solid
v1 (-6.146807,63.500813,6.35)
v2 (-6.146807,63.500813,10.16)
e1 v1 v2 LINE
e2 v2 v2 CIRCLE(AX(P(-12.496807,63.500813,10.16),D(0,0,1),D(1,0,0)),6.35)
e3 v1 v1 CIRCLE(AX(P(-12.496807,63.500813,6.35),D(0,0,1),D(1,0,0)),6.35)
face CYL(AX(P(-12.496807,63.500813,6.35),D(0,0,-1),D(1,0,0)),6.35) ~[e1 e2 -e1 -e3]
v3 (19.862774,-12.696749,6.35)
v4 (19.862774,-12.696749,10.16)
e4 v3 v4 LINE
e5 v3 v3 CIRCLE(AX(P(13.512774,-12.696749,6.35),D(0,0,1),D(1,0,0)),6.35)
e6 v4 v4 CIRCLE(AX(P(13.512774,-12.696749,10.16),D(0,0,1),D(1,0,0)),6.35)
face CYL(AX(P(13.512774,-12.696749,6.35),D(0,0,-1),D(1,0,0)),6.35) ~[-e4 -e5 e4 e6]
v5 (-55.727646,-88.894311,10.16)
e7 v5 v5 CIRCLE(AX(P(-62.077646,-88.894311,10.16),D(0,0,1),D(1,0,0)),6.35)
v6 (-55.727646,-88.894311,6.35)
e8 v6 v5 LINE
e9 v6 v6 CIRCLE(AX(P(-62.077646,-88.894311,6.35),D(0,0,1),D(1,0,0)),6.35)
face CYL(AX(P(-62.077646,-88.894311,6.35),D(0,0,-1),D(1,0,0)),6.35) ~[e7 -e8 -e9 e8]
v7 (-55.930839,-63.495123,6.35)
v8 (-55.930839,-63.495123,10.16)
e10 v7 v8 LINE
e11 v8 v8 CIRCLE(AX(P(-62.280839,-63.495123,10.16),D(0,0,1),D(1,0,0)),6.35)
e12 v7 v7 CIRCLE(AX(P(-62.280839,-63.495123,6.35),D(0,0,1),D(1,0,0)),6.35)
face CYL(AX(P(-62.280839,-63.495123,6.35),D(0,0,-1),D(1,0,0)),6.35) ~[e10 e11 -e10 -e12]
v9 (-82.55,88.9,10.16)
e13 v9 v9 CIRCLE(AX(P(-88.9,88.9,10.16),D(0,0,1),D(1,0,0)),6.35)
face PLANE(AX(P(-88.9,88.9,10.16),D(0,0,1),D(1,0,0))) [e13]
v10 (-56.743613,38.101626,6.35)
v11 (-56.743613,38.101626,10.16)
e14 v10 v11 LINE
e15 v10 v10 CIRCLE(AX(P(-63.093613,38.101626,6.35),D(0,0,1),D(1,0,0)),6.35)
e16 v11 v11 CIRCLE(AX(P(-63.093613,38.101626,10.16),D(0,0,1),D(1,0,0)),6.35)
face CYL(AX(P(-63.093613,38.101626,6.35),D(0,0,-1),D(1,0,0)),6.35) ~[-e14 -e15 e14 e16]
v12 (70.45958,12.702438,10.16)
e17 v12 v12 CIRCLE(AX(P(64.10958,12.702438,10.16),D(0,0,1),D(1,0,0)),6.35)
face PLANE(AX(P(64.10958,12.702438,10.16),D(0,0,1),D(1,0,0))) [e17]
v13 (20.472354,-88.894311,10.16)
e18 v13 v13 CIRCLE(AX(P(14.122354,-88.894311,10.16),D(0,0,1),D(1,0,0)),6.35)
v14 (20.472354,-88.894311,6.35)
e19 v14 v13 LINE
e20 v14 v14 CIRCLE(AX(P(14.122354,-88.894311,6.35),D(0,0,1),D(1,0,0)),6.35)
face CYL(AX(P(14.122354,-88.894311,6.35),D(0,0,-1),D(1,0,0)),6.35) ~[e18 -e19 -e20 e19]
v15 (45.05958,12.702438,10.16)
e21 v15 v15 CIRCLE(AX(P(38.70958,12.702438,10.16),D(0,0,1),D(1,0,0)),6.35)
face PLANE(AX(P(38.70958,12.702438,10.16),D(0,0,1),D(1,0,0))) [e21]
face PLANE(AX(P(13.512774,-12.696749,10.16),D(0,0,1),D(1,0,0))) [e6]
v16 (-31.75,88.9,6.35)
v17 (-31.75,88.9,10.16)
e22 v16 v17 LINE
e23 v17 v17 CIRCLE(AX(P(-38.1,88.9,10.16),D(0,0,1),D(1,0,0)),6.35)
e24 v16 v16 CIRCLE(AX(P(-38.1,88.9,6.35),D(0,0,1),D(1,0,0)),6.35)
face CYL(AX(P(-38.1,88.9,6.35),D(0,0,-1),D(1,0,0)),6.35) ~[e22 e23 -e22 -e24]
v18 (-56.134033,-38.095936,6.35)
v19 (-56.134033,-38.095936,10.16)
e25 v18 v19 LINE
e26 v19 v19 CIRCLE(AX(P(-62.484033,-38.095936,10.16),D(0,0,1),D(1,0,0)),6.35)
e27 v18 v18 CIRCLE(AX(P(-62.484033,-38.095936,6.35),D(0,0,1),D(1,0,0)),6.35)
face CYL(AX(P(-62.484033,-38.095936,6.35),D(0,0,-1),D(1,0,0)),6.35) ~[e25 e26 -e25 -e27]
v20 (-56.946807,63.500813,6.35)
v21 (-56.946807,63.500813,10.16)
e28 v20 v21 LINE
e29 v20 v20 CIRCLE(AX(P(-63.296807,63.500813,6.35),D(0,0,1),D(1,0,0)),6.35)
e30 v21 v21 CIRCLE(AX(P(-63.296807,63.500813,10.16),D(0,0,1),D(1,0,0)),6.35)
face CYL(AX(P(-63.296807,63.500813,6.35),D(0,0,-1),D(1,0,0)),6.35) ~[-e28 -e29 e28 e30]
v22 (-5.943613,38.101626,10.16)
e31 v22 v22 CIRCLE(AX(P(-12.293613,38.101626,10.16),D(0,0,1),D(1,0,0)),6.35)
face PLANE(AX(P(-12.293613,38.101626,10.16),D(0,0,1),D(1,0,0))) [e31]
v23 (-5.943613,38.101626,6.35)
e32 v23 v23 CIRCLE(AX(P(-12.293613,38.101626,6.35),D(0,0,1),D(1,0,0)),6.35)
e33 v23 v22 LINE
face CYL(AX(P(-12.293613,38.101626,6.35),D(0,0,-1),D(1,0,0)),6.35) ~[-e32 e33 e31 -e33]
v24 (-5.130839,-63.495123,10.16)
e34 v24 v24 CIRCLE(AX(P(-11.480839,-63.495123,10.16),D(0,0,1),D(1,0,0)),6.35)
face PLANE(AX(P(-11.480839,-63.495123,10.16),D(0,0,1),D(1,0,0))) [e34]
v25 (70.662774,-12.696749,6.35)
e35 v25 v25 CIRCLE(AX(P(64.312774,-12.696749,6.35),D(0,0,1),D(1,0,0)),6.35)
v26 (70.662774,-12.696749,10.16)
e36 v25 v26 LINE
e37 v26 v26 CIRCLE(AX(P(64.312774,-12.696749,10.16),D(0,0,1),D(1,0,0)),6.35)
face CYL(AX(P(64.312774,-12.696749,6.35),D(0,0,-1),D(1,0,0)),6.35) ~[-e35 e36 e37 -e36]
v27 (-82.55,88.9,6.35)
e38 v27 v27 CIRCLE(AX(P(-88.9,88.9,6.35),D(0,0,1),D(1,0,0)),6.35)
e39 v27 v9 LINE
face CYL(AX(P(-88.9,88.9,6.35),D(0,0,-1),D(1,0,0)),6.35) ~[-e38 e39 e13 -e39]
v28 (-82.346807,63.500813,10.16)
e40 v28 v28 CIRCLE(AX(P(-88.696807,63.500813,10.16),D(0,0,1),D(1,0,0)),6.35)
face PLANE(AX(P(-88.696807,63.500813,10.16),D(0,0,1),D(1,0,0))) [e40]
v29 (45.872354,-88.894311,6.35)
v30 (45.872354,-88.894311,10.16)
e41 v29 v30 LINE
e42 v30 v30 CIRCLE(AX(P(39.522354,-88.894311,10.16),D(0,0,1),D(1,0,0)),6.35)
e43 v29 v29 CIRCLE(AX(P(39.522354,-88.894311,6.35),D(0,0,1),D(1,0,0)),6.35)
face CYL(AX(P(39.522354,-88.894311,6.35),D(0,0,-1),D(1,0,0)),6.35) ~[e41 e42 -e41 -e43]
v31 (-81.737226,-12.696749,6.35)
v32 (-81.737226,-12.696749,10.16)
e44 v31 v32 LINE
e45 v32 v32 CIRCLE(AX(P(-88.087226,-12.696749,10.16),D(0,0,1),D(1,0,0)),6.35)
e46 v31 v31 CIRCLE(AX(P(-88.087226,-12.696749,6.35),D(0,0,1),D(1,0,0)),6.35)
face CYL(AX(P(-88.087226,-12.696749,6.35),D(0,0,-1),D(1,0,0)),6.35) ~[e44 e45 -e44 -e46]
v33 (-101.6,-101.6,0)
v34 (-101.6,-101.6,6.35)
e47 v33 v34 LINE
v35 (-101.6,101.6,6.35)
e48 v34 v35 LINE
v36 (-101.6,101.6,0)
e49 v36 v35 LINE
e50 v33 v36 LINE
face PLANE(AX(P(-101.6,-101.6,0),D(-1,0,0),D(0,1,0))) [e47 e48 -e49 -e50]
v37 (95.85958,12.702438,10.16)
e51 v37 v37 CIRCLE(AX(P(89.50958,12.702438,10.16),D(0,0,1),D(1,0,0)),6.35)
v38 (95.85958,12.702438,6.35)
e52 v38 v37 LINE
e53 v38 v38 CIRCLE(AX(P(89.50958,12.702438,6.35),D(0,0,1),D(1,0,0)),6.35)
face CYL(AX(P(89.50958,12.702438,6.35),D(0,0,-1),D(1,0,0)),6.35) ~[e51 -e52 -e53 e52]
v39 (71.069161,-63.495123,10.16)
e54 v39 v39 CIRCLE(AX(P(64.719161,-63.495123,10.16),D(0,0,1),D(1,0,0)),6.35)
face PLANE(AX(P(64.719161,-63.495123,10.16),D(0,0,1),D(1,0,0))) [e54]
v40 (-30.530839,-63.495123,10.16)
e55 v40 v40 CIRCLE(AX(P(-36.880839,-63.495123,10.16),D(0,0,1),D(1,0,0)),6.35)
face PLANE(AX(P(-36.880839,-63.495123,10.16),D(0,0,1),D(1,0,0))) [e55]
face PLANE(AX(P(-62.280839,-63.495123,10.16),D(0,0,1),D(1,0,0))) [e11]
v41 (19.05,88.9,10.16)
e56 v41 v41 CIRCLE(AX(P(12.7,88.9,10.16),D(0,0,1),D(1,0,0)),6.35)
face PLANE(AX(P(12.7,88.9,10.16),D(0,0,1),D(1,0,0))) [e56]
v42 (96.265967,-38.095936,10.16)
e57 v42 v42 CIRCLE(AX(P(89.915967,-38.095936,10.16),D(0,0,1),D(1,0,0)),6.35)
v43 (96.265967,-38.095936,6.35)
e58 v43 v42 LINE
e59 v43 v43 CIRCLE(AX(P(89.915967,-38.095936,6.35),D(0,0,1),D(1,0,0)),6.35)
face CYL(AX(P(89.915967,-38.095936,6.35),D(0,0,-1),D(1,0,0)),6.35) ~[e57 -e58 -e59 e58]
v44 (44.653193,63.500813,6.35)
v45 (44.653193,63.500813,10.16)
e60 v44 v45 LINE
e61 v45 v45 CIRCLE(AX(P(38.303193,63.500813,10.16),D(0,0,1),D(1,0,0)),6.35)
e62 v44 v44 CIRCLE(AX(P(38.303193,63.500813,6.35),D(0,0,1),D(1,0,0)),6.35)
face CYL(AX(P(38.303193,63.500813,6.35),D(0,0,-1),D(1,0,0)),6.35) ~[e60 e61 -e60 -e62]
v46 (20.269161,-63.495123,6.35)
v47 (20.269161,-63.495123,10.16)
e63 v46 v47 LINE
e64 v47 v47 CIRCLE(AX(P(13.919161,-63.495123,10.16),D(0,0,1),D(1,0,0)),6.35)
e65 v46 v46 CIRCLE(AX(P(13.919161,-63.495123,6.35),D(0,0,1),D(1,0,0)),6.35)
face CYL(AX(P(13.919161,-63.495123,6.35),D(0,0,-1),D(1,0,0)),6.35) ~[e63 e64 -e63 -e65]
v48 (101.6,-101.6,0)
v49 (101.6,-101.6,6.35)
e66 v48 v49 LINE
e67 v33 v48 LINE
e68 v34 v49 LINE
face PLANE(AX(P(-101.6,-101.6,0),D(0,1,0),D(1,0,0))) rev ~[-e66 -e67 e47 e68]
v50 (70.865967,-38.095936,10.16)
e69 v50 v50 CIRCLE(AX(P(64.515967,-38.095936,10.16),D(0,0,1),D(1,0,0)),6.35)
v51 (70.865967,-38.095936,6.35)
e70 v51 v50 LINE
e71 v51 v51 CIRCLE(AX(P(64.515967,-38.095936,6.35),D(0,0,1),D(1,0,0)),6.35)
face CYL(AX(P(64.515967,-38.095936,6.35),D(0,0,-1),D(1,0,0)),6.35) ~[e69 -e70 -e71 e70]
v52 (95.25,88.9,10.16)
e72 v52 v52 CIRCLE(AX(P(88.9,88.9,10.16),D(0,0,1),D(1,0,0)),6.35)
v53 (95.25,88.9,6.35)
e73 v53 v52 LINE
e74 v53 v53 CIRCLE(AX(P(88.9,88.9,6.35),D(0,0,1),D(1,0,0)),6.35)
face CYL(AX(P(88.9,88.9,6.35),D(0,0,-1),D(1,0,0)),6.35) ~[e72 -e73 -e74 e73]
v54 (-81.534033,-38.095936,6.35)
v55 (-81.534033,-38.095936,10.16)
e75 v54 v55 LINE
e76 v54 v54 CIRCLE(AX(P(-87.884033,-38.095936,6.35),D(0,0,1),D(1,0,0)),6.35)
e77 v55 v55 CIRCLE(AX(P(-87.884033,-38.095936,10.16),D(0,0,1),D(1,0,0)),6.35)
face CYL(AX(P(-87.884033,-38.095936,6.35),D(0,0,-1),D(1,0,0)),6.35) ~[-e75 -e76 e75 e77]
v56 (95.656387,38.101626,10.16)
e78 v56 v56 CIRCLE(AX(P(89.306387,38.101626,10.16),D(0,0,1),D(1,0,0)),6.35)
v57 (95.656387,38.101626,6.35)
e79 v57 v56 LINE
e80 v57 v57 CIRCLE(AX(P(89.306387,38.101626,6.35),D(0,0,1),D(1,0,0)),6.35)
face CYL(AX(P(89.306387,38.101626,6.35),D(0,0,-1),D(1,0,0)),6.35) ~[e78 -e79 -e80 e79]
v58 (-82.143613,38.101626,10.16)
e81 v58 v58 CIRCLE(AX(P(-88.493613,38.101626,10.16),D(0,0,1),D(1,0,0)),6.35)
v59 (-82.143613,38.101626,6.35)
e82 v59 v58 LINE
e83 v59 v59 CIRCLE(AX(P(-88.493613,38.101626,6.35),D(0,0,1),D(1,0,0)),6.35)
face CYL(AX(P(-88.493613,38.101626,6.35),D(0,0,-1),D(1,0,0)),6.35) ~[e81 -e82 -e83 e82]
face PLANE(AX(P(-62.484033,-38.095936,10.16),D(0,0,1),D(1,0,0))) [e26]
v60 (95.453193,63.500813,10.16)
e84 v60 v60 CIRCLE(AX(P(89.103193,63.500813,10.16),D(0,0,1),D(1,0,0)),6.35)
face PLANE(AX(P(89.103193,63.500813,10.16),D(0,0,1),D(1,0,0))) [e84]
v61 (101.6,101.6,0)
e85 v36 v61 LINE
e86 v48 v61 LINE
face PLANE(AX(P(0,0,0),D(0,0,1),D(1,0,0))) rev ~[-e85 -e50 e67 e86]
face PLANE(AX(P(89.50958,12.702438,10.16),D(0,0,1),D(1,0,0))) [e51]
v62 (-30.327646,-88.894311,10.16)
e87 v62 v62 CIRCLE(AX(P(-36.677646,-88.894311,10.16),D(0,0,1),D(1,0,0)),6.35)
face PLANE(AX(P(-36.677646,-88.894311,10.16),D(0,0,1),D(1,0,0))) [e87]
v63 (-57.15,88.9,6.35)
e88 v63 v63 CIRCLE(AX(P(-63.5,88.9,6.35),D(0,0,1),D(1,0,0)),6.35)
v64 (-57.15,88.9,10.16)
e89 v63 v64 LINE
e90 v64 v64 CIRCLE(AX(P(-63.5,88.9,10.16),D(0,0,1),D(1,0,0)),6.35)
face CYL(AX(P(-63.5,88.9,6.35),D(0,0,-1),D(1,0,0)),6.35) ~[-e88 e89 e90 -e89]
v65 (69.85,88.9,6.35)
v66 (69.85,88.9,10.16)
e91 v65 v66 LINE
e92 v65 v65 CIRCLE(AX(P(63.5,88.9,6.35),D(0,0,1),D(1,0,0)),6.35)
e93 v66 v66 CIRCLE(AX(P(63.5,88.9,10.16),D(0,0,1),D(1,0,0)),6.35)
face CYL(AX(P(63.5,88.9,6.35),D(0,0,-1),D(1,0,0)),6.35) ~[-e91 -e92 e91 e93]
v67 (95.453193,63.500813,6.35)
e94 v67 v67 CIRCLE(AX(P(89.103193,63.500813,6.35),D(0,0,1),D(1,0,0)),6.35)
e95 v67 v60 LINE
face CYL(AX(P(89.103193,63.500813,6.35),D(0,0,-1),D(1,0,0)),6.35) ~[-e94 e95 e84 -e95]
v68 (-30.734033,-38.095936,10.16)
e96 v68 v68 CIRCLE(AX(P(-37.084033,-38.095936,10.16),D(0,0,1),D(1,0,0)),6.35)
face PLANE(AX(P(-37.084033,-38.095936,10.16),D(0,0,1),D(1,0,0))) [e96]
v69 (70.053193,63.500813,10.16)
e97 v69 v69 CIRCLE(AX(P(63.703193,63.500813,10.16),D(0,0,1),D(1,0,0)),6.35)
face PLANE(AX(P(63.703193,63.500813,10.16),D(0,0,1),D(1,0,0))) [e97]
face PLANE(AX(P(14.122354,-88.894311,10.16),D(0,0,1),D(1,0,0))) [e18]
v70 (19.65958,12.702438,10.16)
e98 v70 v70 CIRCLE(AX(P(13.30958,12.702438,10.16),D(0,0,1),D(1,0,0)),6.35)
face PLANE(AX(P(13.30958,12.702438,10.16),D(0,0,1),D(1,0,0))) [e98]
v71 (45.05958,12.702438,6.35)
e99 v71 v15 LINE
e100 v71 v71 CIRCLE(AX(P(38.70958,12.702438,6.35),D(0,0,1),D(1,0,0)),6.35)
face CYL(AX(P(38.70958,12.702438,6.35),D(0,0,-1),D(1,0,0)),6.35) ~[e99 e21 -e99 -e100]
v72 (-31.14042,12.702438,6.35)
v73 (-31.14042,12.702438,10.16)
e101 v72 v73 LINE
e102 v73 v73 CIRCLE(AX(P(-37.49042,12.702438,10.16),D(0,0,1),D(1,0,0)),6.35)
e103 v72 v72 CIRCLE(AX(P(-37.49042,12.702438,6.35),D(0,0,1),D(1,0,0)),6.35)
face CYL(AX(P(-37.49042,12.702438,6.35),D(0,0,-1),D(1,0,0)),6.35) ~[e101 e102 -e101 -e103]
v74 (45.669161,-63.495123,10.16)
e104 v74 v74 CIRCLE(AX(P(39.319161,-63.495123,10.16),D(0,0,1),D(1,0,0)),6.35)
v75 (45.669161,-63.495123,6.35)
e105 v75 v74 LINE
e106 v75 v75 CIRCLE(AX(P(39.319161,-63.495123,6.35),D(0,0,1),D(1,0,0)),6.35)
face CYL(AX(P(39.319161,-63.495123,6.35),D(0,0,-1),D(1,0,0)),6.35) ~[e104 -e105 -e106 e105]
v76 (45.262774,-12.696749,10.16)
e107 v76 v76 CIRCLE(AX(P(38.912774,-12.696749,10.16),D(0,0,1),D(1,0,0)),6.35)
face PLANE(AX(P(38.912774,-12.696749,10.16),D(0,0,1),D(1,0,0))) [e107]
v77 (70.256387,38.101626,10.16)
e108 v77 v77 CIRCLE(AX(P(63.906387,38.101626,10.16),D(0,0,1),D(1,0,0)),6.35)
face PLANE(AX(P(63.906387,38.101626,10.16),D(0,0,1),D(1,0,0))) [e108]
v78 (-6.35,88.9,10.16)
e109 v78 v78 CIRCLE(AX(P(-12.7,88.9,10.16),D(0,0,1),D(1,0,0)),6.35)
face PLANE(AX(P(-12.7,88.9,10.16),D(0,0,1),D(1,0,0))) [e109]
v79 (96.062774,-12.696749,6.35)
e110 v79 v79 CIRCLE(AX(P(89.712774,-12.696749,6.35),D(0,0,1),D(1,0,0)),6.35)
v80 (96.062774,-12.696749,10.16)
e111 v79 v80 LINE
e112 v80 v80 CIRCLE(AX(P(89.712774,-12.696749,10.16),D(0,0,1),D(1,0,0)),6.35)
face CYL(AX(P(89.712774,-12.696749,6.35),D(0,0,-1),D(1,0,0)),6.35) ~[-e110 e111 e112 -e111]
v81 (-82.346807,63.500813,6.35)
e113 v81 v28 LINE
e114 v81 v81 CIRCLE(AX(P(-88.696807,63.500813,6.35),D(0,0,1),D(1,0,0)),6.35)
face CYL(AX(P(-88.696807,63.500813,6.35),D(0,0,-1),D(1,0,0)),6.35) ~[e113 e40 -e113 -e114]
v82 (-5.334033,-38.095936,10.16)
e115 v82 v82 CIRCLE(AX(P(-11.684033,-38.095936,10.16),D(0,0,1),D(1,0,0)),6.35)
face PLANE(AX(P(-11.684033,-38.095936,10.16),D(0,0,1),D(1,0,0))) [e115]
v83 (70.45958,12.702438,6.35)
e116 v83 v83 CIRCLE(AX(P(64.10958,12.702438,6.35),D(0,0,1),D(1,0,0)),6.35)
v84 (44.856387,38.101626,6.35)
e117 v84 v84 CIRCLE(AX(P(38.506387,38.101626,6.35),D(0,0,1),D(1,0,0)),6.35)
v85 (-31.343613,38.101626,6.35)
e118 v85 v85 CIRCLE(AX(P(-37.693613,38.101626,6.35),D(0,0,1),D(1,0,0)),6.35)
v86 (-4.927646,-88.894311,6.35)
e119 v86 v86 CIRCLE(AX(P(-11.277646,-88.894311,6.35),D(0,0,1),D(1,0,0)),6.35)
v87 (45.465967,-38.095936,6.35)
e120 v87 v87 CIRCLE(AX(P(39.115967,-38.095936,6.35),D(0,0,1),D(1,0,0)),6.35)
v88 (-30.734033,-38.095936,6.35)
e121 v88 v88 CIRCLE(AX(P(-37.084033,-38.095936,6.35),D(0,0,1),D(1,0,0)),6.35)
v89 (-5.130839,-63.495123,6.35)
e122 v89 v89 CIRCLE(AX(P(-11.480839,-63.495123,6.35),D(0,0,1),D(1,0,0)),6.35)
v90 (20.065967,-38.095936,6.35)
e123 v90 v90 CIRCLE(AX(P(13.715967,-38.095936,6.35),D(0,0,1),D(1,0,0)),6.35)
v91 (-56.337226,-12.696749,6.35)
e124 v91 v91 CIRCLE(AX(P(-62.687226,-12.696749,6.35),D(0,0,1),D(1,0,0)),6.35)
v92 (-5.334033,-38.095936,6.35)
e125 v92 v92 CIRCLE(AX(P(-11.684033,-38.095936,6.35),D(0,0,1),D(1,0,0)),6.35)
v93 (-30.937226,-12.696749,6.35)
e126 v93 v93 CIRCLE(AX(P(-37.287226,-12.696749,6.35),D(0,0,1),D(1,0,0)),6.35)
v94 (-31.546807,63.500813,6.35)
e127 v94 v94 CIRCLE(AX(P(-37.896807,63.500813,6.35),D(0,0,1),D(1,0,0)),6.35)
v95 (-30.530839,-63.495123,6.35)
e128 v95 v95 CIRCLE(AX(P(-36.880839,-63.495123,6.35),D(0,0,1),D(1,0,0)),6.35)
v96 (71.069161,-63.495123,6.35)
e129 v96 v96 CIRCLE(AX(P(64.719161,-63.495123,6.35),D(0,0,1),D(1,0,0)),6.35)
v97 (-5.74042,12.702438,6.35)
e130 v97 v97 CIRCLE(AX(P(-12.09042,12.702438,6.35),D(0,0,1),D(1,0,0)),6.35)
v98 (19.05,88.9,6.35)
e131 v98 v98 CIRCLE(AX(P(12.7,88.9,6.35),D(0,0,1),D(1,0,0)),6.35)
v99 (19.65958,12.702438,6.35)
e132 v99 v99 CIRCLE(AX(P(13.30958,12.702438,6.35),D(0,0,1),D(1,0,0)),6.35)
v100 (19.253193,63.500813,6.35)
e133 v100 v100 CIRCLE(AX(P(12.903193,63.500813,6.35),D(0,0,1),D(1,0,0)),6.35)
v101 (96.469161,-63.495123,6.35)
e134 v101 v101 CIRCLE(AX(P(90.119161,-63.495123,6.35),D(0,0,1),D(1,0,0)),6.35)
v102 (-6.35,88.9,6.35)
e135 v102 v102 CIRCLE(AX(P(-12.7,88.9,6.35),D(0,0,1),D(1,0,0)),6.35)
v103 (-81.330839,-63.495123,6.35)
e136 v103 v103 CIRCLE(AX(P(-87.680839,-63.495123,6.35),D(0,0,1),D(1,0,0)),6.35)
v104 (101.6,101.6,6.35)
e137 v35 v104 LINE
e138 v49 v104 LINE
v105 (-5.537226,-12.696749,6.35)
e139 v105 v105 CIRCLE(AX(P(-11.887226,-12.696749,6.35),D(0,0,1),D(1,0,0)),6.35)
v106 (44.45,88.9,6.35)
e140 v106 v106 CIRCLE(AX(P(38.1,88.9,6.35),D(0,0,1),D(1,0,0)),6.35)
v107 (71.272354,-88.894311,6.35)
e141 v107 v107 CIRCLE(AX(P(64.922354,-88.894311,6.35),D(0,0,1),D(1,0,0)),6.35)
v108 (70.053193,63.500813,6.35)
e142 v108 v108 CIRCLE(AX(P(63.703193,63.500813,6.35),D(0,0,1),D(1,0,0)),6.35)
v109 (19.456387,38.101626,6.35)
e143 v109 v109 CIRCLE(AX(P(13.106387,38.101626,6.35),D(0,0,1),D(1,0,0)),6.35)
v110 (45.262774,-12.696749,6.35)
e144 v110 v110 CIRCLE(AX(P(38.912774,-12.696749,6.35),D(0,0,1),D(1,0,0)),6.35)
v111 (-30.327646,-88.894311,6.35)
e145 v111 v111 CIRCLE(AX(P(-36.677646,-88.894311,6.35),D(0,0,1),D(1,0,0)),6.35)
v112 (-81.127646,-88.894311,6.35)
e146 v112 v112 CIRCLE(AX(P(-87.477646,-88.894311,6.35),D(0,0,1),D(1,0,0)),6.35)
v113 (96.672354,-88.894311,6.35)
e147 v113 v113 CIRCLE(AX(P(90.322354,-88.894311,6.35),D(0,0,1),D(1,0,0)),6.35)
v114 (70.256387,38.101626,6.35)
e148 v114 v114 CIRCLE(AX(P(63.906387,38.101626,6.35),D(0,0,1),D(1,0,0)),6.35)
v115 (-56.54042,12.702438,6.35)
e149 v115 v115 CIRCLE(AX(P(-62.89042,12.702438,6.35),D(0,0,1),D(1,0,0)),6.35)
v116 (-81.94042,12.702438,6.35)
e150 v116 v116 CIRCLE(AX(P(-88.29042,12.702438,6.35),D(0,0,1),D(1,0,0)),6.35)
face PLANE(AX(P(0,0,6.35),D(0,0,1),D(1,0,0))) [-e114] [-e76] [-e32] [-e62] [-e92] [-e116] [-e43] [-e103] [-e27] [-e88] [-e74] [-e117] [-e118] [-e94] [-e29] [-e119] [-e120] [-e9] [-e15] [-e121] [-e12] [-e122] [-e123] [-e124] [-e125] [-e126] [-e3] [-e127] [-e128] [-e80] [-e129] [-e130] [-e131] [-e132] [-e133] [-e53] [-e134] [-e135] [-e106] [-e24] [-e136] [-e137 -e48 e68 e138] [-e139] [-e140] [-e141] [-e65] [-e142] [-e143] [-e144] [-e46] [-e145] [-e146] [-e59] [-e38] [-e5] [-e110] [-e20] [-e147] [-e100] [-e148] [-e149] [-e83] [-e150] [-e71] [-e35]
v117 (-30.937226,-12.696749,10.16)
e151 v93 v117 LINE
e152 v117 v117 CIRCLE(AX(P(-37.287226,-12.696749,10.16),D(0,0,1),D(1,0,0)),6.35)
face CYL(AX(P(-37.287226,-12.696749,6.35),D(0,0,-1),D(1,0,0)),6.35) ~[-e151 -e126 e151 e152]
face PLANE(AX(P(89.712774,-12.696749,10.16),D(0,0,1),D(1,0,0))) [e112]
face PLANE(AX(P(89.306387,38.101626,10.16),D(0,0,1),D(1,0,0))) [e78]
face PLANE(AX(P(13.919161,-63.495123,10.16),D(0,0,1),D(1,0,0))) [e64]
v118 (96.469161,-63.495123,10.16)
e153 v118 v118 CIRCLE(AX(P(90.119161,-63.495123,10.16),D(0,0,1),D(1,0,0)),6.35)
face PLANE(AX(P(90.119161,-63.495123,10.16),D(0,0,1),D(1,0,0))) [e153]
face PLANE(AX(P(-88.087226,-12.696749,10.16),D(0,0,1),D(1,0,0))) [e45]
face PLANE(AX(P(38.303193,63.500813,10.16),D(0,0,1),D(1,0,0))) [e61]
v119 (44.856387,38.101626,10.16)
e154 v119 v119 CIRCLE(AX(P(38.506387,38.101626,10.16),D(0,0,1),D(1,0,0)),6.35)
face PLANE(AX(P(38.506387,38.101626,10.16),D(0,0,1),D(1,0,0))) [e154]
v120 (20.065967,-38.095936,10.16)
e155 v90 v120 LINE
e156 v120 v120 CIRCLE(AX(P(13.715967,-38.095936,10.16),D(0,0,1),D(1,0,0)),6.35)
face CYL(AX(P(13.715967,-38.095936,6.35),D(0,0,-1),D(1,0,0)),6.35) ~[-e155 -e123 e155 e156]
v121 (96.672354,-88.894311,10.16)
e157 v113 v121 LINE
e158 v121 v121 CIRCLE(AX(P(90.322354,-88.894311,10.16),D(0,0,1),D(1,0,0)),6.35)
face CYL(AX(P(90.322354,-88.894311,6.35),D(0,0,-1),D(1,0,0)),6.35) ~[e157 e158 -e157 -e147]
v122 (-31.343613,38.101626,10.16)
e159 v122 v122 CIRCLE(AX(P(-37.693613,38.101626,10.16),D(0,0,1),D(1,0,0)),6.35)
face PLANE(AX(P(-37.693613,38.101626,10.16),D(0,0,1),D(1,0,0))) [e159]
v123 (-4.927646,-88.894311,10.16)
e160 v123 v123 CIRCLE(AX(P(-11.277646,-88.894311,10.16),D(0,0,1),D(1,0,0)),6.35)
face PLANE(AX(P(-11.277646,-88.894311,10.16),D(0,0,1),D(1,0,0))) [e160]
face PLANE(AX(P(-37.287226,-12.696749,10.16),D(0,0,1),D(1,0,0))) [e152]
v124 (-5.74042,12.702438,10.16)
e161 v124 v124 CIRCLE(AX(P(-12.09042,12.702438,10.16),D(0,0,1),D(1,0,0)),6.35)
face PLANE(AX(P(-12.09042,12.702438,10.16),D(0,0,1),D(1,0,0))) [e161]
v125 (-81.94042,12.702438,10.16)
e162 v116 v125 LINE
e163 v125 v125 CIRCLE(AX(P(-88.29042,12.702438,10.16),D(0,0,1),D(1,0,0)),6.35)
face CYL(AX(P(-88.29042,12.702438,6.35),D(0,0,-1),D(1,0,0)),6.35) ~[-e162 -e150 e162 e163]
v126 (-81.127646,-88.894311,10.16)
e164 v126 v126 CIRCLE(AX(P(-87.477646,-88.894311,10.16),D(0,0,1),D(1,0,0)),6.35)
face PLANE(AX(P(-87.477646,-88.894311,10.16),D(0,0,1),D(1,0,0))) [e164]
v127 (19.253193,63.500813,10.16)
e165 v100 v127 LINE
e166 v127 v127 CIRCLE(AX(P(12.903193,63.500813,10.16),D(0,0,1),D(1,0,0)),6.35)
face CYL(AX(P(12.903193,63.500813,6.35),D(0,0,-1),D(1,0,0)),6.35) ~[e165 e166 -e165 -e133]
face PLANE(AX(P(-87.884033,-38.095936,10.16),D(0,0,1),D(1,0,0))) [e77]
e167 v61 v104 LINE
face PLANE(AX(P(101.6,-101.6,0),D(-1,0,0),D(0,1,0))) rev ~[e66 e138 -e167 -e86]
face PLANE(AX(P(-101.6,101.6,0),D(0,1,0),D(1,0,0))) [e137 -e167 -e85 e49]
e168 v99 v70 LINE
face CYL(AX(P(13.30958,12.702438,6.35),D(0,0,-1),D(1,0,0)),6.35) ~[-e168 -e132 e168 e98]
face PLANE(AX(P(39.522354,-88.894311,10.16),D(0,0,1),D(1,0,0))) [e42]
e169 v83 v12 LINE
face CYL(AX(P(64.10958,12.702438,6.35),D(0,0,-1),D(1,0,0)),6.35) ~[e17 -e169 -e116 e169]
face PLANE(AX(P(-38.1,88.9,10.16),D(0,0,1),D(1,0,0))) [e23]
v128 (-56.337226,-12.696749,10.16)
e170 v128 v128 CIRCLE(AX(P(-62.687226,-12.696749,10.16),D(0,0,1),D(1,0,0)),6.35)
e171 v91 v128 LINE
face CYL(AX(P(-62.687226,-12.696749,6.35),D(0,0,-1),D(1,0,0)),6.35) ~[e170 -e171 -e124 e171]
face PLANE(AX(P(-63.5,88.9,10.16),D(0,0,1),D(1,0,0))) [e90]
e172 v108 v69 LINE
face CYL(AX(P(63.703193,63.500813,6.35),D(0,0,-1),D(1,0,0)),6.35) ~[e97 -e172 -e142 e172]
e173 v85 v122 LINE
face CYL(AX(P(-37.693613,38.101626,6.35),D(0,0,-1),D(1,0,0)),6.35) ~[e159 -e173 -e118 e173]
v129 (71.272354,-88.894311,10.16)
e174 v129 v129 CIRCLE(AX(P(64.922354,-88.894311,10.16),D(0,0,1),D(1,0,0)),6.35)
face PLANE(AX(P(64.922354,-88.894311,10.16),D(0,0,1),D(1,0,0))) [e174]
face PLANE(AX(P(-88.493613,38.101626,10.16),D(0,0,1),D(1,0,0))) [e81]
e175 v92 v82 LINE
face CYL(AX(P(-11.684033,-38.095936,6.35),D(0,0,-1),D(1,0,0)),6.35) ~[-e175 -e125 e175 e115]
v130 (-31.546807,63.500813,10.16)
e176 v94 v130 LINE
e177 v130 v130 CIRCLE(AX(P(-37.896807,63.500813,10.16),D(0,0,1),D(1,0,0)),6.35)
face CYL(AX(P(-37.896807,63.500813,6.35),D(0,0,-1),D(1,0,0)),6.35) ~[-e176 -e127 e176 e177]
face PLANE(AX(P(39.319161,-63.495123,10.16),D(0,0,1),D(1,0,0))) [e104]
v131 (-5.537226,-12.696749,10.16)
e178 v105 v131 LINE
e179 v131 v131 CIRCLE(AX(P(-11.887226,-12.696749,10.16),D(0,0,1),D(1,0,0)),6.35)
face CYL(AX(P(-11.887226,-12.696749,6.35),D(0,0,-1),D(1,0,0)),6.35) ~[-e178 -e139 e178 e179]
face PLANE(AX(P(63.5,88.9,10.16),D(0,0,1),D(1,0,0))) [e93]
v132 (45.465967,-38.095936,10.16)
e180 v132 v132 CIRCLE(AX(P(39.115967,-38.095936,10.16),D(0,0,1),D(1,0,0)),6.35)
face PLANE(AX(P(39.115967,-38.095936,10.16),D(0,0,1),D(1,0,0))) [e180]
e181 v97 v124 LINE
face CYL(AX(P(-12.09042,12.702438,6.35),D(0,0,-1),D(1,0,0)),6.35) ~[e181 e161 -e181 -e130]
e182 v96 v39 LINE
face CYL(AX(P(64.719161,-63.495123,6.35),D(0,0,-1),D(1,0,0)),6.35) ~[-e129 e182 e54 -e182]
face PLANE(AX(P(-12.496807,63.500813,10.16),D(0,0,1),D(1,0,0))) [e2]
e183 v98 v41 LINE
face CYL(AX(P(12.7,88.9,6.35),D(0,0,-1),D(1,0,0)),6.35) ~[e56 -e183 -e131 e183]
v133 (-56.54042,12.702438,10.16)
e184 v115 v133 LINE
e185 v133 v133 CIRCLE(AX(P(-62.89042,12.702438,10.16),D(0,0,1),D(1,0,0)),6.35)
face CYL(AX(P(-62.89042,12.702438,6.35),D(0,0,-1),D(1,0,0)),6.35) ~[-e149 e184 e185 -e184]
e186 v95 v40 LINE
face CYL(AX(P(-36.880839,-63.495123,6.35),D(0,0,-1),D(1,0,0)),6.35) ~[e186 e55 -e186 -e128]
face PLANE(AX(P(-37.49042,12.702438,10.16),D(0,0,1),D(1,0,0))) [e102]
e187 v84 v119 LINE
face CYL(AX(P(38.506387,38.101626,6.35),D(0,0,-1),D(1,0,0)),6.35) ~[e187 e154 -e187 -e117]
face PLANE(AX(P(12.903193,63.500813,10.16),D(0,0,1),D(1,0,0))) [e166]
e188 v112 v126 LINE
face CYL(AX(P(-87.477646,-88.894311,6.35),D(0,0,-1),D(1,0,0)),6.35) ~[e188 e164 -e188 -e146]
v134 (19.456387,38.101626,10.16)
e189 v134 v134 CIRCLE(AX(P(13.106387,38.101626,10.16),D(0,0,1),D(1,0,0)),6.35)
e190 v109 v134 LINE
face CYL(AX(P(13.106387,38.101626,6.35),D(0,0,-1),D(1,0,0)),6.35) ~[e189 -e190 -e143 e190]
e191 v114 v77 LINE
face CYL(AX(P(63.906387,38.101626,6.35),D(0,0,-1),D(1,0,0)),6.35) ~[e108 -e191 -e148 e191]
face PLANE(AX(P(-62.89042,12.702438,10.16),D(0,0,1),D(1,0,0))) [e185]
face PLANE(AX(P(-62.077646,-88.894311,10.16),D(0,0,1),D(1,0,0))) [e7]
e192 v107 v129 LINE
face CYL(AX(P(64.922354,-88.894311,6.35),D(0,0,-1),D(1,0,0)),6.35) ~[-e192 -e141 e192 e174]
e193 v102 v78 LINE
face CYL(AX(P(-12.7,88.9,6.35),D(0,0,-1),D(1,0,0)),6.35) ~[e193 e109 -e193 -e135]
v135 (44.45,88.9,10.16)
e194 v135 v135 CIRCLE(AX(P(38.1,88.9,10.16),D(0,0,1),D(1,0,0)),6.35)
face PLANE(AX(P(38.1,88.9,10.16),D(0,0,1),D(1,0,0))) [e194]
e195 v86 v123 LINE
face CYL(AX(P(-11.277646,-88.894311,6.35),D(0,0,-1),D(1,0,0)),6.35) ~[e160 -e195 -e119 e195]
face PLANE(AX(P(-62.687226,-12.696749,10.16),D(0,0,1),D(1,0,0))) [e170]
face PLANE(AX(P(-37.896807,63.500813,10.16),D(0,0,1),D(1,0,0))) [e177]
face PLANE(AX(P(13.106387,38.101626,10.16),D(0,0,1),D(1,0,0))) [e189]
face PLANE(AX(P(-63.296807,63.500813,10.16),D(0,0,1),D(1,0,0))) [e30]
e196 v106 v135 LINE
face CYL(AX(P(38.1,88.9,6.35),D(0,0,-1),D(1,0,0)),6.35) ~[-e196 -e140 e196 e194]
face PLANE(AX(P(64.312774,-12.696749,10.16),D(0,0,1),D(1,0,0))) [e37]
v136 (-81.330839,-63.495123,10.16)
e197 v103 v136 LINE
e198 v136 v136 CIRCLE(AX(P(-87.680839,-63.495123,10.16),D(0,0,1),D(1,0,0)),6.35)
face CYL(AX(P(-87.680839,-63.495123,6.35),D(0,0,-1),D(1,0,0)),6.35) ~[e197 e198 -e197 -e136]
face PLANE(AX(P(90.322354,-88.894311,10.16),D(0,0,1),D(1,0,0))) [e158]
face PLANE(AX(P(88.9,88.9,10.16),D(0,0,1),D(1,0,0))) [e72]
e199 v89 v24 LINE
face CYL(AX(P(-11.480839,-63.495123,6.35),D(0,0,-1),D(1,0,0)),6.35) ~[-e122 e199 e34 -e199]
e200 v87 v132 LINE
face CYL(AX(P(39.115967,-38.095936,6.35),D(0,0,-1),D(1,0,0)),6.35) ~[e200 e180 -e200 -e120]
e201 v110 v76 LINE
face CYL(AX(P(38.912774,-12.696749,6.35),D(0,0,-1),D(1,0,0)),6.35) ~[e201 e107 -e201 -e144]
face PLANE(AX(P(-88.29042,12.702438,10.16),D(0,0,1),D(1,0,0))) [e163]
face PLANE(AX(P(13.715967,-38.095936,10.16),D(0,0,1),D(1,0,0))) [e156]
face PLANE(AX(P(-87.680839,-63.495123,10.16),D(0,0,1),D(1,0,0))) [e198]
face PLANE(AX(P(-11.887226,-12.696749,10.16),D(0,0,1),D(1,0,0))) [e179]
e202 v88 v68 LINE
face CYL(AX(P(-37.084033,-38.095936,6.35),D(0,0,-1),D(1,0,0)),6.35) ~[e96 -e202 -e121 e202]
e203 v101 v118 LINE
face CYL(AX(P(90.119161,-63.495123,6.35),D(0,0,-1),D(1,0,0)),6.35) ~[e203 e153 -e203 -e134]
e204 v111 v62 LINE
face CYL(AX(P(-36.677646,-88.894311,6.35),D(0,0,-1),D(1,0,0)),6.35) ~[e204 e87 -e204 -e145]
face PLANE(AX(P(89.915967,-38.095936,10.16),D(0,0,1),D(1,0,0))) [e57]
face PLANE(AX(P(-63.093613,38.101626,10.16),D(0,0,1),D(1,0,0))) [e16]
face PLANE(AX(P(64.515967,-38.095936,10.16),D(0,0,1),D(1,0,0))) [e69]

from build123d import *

# Parameters (mm, degrees)
F0_W     = 203.2
F0_H     = 203.2
F1_DEPTH = 6.35
F2_R     = 6.35
F3_DEPTH = 3.81


with BuildPart() as f1:
    # F0 (on Top) → F1 (new body)
    with BuildSketch(Plane.XY):
        Rectangle(F0_W, F0_H)
    extrude(amount=F1_DEPTH)

    # F2 (on face) → F3 (join)
    with BuildSketch(Plane.XY.offset(6.35)):
        with Locations((-88.9, 88.9)):
            Circle(F2_R)
        with Locations((-88.696807, 63.500813)):
            Circle(F2_R)
        with Locations((-88.493613, 38.101626)):
            Circle(F2_R)
        with Locations((-88.29042, 12.702438)):
            Circle(F2_R)
        with Locations((-88.087226, -12.696749)):
            Circle(F2_R)
        with Locations((-87.884033, -38.095936)):
            Circle(F2_R)
        with Locations((-87.680839, -63.495123)):
            Circle(F2_R)
        with Locations((-87.477646, -88.894311)):
            Circle(F2_R)
        with Locations((-63.5, 88.9)):
            Circle(F2_R)
        with Locations((-63.296807, 63.500813)):
            Circle(F2_R)
        with Locations((-63.093613, 38.101626)):
            Circle(F2_R)
        with Locations((-62.89042, 12.702438)):
            Circle(F2_R)
        with Locations((-62.687226, -12.696749)):
            Circle(F2_R)
        with Locations((-62.484033, -38.095936)):
            Circle(F2_R)
        with Locations((-62.280839, -63.495123)):
            Circle(F2_R)
        with Locations((-62.077646, -88.894311)):
            Circle(F2_R)
        with Locations((-38.1, 88.9)):
            Circle(F2_R)
        with Locations((-37.896807, 63.500813)):
            Circle(F2_R)
        with Locations((-37.693613, 38.101626)):
            Circle(F2_R)
        with Locations((-37.49042, 12.702438)):
            Circle(F2_R)
        with Locations((-37.287226, -12.696749)):
            Circle(F2_R)
        with Locations((-37.084033, -38.095936)):
            Circle(F2_R)
        with Locations((-36.880839, -63.495123)):
            Circle(F2_R)
        with Locations((-36.677646, -88.894311)):
            Circle(F2_R)
        with Locations((-12.7, 88.9)):
            Circle(F2_R)
        with Locations((-12.496807, 63.500813)):
            Circle(F2_R)
        with Locations((-12.293613, 38.101626)):
            Circle(F2_R)
        with Locations((-12.09042, 12.702438)):
            Circle(F2_R)
        with Locations((-11.887226, -12.696749)):
            Circle(F2_R)
        with Locations((-11.684033, -38.095936)):
            Circle(F2_R)
        with Locations((-11.480839, -63.495123)):
            Circle(F2_R)
        with Locations((-11.277646, -88.894311)):
            Circle(F2_R)
        with Locations((12.7, 88.9)):
            Circle(F2_R)
        with Locations((12.903193, 63.500813)):
            Circle(F2_R)
        with Locations((13.106387, 38.101626)):
            Circle(F2_R)
        with Locations((13.30958, 12.702438)):
            Circle(F2_R)
        with Locations((13.512774, -12.696749)):
            Circle(F2_R)
        with Locations((13.715967, -38.095936)):
            Circle(F2_R)
        with Locations((13.919161, -63.495123)):
            Circle(F2_R)
        with Locations((14.122354, -88.894311)):
            Circle(F2_R)
        with Locations((38.1, 88.9)):
            Circle(F2_R)
        with Locations((38.303193, 63.500813)):
            Circle(F2_R)
        with Locations((38.506387, 38.101626)):
            Circle(F2_R)
        with Locations((38.70958, 12.702438)):
            Circle(F2_R)
        with Locations((38.912774, -12.696749)):
            Circle(F2_R)
        with Locations((39.115967, -38.095936)):
            Circle(F2_R)
        with Locations((39.319161, -63.495123)):
            Circle(F2_R)
        with Locations((39.522354, -88.894311)):
            Circle(F2_R)
        with Locations((63.5, 88.9)):
            Circle(F2_R)
        with Locations((63.703193, 63.500813)):
            Circle(F2_R)
        with Locations((63.906387, 38.101626)):
            Circle(F2_R)
        with Locations((64.10958, 12.702438)):
            Circle(F2_R)
        with Locations((64.312774, -12.696749)):
            Circle(F2_R)
        with Locations((64.515967, -38.095936)):
            Circle(F2_R)
        with Locations((64.719161, -63.495123)):
            Circle(F2_R)
        with Locations((64.922354, -88.894311)):
            Circle(F2_R)
        with Locations((88.9, 88.9)):
            Circle(F2_R)
        with Locations((89.103193, 63.500813)):
            Circle(F2_R)
        with Locations((89.306387, 38.101626)):
            Circle(F2_R)
        with Locations((89.50958, 12.702438)):
            Circle(F2_R)
        with Locations((89.712774, -12.696749)):
            Circle(F2_R)
        with Locations((89.915967, -38.095936)):
            Circle(F2_R)
        with Locations((90.119161, -63.495123)):
            Circle(F2_R)
        with Locations((90.322354, -88.894311)):
            Circle(F2_R)
    extrude(amount=F3_DEPTH)


solid = f1.part
